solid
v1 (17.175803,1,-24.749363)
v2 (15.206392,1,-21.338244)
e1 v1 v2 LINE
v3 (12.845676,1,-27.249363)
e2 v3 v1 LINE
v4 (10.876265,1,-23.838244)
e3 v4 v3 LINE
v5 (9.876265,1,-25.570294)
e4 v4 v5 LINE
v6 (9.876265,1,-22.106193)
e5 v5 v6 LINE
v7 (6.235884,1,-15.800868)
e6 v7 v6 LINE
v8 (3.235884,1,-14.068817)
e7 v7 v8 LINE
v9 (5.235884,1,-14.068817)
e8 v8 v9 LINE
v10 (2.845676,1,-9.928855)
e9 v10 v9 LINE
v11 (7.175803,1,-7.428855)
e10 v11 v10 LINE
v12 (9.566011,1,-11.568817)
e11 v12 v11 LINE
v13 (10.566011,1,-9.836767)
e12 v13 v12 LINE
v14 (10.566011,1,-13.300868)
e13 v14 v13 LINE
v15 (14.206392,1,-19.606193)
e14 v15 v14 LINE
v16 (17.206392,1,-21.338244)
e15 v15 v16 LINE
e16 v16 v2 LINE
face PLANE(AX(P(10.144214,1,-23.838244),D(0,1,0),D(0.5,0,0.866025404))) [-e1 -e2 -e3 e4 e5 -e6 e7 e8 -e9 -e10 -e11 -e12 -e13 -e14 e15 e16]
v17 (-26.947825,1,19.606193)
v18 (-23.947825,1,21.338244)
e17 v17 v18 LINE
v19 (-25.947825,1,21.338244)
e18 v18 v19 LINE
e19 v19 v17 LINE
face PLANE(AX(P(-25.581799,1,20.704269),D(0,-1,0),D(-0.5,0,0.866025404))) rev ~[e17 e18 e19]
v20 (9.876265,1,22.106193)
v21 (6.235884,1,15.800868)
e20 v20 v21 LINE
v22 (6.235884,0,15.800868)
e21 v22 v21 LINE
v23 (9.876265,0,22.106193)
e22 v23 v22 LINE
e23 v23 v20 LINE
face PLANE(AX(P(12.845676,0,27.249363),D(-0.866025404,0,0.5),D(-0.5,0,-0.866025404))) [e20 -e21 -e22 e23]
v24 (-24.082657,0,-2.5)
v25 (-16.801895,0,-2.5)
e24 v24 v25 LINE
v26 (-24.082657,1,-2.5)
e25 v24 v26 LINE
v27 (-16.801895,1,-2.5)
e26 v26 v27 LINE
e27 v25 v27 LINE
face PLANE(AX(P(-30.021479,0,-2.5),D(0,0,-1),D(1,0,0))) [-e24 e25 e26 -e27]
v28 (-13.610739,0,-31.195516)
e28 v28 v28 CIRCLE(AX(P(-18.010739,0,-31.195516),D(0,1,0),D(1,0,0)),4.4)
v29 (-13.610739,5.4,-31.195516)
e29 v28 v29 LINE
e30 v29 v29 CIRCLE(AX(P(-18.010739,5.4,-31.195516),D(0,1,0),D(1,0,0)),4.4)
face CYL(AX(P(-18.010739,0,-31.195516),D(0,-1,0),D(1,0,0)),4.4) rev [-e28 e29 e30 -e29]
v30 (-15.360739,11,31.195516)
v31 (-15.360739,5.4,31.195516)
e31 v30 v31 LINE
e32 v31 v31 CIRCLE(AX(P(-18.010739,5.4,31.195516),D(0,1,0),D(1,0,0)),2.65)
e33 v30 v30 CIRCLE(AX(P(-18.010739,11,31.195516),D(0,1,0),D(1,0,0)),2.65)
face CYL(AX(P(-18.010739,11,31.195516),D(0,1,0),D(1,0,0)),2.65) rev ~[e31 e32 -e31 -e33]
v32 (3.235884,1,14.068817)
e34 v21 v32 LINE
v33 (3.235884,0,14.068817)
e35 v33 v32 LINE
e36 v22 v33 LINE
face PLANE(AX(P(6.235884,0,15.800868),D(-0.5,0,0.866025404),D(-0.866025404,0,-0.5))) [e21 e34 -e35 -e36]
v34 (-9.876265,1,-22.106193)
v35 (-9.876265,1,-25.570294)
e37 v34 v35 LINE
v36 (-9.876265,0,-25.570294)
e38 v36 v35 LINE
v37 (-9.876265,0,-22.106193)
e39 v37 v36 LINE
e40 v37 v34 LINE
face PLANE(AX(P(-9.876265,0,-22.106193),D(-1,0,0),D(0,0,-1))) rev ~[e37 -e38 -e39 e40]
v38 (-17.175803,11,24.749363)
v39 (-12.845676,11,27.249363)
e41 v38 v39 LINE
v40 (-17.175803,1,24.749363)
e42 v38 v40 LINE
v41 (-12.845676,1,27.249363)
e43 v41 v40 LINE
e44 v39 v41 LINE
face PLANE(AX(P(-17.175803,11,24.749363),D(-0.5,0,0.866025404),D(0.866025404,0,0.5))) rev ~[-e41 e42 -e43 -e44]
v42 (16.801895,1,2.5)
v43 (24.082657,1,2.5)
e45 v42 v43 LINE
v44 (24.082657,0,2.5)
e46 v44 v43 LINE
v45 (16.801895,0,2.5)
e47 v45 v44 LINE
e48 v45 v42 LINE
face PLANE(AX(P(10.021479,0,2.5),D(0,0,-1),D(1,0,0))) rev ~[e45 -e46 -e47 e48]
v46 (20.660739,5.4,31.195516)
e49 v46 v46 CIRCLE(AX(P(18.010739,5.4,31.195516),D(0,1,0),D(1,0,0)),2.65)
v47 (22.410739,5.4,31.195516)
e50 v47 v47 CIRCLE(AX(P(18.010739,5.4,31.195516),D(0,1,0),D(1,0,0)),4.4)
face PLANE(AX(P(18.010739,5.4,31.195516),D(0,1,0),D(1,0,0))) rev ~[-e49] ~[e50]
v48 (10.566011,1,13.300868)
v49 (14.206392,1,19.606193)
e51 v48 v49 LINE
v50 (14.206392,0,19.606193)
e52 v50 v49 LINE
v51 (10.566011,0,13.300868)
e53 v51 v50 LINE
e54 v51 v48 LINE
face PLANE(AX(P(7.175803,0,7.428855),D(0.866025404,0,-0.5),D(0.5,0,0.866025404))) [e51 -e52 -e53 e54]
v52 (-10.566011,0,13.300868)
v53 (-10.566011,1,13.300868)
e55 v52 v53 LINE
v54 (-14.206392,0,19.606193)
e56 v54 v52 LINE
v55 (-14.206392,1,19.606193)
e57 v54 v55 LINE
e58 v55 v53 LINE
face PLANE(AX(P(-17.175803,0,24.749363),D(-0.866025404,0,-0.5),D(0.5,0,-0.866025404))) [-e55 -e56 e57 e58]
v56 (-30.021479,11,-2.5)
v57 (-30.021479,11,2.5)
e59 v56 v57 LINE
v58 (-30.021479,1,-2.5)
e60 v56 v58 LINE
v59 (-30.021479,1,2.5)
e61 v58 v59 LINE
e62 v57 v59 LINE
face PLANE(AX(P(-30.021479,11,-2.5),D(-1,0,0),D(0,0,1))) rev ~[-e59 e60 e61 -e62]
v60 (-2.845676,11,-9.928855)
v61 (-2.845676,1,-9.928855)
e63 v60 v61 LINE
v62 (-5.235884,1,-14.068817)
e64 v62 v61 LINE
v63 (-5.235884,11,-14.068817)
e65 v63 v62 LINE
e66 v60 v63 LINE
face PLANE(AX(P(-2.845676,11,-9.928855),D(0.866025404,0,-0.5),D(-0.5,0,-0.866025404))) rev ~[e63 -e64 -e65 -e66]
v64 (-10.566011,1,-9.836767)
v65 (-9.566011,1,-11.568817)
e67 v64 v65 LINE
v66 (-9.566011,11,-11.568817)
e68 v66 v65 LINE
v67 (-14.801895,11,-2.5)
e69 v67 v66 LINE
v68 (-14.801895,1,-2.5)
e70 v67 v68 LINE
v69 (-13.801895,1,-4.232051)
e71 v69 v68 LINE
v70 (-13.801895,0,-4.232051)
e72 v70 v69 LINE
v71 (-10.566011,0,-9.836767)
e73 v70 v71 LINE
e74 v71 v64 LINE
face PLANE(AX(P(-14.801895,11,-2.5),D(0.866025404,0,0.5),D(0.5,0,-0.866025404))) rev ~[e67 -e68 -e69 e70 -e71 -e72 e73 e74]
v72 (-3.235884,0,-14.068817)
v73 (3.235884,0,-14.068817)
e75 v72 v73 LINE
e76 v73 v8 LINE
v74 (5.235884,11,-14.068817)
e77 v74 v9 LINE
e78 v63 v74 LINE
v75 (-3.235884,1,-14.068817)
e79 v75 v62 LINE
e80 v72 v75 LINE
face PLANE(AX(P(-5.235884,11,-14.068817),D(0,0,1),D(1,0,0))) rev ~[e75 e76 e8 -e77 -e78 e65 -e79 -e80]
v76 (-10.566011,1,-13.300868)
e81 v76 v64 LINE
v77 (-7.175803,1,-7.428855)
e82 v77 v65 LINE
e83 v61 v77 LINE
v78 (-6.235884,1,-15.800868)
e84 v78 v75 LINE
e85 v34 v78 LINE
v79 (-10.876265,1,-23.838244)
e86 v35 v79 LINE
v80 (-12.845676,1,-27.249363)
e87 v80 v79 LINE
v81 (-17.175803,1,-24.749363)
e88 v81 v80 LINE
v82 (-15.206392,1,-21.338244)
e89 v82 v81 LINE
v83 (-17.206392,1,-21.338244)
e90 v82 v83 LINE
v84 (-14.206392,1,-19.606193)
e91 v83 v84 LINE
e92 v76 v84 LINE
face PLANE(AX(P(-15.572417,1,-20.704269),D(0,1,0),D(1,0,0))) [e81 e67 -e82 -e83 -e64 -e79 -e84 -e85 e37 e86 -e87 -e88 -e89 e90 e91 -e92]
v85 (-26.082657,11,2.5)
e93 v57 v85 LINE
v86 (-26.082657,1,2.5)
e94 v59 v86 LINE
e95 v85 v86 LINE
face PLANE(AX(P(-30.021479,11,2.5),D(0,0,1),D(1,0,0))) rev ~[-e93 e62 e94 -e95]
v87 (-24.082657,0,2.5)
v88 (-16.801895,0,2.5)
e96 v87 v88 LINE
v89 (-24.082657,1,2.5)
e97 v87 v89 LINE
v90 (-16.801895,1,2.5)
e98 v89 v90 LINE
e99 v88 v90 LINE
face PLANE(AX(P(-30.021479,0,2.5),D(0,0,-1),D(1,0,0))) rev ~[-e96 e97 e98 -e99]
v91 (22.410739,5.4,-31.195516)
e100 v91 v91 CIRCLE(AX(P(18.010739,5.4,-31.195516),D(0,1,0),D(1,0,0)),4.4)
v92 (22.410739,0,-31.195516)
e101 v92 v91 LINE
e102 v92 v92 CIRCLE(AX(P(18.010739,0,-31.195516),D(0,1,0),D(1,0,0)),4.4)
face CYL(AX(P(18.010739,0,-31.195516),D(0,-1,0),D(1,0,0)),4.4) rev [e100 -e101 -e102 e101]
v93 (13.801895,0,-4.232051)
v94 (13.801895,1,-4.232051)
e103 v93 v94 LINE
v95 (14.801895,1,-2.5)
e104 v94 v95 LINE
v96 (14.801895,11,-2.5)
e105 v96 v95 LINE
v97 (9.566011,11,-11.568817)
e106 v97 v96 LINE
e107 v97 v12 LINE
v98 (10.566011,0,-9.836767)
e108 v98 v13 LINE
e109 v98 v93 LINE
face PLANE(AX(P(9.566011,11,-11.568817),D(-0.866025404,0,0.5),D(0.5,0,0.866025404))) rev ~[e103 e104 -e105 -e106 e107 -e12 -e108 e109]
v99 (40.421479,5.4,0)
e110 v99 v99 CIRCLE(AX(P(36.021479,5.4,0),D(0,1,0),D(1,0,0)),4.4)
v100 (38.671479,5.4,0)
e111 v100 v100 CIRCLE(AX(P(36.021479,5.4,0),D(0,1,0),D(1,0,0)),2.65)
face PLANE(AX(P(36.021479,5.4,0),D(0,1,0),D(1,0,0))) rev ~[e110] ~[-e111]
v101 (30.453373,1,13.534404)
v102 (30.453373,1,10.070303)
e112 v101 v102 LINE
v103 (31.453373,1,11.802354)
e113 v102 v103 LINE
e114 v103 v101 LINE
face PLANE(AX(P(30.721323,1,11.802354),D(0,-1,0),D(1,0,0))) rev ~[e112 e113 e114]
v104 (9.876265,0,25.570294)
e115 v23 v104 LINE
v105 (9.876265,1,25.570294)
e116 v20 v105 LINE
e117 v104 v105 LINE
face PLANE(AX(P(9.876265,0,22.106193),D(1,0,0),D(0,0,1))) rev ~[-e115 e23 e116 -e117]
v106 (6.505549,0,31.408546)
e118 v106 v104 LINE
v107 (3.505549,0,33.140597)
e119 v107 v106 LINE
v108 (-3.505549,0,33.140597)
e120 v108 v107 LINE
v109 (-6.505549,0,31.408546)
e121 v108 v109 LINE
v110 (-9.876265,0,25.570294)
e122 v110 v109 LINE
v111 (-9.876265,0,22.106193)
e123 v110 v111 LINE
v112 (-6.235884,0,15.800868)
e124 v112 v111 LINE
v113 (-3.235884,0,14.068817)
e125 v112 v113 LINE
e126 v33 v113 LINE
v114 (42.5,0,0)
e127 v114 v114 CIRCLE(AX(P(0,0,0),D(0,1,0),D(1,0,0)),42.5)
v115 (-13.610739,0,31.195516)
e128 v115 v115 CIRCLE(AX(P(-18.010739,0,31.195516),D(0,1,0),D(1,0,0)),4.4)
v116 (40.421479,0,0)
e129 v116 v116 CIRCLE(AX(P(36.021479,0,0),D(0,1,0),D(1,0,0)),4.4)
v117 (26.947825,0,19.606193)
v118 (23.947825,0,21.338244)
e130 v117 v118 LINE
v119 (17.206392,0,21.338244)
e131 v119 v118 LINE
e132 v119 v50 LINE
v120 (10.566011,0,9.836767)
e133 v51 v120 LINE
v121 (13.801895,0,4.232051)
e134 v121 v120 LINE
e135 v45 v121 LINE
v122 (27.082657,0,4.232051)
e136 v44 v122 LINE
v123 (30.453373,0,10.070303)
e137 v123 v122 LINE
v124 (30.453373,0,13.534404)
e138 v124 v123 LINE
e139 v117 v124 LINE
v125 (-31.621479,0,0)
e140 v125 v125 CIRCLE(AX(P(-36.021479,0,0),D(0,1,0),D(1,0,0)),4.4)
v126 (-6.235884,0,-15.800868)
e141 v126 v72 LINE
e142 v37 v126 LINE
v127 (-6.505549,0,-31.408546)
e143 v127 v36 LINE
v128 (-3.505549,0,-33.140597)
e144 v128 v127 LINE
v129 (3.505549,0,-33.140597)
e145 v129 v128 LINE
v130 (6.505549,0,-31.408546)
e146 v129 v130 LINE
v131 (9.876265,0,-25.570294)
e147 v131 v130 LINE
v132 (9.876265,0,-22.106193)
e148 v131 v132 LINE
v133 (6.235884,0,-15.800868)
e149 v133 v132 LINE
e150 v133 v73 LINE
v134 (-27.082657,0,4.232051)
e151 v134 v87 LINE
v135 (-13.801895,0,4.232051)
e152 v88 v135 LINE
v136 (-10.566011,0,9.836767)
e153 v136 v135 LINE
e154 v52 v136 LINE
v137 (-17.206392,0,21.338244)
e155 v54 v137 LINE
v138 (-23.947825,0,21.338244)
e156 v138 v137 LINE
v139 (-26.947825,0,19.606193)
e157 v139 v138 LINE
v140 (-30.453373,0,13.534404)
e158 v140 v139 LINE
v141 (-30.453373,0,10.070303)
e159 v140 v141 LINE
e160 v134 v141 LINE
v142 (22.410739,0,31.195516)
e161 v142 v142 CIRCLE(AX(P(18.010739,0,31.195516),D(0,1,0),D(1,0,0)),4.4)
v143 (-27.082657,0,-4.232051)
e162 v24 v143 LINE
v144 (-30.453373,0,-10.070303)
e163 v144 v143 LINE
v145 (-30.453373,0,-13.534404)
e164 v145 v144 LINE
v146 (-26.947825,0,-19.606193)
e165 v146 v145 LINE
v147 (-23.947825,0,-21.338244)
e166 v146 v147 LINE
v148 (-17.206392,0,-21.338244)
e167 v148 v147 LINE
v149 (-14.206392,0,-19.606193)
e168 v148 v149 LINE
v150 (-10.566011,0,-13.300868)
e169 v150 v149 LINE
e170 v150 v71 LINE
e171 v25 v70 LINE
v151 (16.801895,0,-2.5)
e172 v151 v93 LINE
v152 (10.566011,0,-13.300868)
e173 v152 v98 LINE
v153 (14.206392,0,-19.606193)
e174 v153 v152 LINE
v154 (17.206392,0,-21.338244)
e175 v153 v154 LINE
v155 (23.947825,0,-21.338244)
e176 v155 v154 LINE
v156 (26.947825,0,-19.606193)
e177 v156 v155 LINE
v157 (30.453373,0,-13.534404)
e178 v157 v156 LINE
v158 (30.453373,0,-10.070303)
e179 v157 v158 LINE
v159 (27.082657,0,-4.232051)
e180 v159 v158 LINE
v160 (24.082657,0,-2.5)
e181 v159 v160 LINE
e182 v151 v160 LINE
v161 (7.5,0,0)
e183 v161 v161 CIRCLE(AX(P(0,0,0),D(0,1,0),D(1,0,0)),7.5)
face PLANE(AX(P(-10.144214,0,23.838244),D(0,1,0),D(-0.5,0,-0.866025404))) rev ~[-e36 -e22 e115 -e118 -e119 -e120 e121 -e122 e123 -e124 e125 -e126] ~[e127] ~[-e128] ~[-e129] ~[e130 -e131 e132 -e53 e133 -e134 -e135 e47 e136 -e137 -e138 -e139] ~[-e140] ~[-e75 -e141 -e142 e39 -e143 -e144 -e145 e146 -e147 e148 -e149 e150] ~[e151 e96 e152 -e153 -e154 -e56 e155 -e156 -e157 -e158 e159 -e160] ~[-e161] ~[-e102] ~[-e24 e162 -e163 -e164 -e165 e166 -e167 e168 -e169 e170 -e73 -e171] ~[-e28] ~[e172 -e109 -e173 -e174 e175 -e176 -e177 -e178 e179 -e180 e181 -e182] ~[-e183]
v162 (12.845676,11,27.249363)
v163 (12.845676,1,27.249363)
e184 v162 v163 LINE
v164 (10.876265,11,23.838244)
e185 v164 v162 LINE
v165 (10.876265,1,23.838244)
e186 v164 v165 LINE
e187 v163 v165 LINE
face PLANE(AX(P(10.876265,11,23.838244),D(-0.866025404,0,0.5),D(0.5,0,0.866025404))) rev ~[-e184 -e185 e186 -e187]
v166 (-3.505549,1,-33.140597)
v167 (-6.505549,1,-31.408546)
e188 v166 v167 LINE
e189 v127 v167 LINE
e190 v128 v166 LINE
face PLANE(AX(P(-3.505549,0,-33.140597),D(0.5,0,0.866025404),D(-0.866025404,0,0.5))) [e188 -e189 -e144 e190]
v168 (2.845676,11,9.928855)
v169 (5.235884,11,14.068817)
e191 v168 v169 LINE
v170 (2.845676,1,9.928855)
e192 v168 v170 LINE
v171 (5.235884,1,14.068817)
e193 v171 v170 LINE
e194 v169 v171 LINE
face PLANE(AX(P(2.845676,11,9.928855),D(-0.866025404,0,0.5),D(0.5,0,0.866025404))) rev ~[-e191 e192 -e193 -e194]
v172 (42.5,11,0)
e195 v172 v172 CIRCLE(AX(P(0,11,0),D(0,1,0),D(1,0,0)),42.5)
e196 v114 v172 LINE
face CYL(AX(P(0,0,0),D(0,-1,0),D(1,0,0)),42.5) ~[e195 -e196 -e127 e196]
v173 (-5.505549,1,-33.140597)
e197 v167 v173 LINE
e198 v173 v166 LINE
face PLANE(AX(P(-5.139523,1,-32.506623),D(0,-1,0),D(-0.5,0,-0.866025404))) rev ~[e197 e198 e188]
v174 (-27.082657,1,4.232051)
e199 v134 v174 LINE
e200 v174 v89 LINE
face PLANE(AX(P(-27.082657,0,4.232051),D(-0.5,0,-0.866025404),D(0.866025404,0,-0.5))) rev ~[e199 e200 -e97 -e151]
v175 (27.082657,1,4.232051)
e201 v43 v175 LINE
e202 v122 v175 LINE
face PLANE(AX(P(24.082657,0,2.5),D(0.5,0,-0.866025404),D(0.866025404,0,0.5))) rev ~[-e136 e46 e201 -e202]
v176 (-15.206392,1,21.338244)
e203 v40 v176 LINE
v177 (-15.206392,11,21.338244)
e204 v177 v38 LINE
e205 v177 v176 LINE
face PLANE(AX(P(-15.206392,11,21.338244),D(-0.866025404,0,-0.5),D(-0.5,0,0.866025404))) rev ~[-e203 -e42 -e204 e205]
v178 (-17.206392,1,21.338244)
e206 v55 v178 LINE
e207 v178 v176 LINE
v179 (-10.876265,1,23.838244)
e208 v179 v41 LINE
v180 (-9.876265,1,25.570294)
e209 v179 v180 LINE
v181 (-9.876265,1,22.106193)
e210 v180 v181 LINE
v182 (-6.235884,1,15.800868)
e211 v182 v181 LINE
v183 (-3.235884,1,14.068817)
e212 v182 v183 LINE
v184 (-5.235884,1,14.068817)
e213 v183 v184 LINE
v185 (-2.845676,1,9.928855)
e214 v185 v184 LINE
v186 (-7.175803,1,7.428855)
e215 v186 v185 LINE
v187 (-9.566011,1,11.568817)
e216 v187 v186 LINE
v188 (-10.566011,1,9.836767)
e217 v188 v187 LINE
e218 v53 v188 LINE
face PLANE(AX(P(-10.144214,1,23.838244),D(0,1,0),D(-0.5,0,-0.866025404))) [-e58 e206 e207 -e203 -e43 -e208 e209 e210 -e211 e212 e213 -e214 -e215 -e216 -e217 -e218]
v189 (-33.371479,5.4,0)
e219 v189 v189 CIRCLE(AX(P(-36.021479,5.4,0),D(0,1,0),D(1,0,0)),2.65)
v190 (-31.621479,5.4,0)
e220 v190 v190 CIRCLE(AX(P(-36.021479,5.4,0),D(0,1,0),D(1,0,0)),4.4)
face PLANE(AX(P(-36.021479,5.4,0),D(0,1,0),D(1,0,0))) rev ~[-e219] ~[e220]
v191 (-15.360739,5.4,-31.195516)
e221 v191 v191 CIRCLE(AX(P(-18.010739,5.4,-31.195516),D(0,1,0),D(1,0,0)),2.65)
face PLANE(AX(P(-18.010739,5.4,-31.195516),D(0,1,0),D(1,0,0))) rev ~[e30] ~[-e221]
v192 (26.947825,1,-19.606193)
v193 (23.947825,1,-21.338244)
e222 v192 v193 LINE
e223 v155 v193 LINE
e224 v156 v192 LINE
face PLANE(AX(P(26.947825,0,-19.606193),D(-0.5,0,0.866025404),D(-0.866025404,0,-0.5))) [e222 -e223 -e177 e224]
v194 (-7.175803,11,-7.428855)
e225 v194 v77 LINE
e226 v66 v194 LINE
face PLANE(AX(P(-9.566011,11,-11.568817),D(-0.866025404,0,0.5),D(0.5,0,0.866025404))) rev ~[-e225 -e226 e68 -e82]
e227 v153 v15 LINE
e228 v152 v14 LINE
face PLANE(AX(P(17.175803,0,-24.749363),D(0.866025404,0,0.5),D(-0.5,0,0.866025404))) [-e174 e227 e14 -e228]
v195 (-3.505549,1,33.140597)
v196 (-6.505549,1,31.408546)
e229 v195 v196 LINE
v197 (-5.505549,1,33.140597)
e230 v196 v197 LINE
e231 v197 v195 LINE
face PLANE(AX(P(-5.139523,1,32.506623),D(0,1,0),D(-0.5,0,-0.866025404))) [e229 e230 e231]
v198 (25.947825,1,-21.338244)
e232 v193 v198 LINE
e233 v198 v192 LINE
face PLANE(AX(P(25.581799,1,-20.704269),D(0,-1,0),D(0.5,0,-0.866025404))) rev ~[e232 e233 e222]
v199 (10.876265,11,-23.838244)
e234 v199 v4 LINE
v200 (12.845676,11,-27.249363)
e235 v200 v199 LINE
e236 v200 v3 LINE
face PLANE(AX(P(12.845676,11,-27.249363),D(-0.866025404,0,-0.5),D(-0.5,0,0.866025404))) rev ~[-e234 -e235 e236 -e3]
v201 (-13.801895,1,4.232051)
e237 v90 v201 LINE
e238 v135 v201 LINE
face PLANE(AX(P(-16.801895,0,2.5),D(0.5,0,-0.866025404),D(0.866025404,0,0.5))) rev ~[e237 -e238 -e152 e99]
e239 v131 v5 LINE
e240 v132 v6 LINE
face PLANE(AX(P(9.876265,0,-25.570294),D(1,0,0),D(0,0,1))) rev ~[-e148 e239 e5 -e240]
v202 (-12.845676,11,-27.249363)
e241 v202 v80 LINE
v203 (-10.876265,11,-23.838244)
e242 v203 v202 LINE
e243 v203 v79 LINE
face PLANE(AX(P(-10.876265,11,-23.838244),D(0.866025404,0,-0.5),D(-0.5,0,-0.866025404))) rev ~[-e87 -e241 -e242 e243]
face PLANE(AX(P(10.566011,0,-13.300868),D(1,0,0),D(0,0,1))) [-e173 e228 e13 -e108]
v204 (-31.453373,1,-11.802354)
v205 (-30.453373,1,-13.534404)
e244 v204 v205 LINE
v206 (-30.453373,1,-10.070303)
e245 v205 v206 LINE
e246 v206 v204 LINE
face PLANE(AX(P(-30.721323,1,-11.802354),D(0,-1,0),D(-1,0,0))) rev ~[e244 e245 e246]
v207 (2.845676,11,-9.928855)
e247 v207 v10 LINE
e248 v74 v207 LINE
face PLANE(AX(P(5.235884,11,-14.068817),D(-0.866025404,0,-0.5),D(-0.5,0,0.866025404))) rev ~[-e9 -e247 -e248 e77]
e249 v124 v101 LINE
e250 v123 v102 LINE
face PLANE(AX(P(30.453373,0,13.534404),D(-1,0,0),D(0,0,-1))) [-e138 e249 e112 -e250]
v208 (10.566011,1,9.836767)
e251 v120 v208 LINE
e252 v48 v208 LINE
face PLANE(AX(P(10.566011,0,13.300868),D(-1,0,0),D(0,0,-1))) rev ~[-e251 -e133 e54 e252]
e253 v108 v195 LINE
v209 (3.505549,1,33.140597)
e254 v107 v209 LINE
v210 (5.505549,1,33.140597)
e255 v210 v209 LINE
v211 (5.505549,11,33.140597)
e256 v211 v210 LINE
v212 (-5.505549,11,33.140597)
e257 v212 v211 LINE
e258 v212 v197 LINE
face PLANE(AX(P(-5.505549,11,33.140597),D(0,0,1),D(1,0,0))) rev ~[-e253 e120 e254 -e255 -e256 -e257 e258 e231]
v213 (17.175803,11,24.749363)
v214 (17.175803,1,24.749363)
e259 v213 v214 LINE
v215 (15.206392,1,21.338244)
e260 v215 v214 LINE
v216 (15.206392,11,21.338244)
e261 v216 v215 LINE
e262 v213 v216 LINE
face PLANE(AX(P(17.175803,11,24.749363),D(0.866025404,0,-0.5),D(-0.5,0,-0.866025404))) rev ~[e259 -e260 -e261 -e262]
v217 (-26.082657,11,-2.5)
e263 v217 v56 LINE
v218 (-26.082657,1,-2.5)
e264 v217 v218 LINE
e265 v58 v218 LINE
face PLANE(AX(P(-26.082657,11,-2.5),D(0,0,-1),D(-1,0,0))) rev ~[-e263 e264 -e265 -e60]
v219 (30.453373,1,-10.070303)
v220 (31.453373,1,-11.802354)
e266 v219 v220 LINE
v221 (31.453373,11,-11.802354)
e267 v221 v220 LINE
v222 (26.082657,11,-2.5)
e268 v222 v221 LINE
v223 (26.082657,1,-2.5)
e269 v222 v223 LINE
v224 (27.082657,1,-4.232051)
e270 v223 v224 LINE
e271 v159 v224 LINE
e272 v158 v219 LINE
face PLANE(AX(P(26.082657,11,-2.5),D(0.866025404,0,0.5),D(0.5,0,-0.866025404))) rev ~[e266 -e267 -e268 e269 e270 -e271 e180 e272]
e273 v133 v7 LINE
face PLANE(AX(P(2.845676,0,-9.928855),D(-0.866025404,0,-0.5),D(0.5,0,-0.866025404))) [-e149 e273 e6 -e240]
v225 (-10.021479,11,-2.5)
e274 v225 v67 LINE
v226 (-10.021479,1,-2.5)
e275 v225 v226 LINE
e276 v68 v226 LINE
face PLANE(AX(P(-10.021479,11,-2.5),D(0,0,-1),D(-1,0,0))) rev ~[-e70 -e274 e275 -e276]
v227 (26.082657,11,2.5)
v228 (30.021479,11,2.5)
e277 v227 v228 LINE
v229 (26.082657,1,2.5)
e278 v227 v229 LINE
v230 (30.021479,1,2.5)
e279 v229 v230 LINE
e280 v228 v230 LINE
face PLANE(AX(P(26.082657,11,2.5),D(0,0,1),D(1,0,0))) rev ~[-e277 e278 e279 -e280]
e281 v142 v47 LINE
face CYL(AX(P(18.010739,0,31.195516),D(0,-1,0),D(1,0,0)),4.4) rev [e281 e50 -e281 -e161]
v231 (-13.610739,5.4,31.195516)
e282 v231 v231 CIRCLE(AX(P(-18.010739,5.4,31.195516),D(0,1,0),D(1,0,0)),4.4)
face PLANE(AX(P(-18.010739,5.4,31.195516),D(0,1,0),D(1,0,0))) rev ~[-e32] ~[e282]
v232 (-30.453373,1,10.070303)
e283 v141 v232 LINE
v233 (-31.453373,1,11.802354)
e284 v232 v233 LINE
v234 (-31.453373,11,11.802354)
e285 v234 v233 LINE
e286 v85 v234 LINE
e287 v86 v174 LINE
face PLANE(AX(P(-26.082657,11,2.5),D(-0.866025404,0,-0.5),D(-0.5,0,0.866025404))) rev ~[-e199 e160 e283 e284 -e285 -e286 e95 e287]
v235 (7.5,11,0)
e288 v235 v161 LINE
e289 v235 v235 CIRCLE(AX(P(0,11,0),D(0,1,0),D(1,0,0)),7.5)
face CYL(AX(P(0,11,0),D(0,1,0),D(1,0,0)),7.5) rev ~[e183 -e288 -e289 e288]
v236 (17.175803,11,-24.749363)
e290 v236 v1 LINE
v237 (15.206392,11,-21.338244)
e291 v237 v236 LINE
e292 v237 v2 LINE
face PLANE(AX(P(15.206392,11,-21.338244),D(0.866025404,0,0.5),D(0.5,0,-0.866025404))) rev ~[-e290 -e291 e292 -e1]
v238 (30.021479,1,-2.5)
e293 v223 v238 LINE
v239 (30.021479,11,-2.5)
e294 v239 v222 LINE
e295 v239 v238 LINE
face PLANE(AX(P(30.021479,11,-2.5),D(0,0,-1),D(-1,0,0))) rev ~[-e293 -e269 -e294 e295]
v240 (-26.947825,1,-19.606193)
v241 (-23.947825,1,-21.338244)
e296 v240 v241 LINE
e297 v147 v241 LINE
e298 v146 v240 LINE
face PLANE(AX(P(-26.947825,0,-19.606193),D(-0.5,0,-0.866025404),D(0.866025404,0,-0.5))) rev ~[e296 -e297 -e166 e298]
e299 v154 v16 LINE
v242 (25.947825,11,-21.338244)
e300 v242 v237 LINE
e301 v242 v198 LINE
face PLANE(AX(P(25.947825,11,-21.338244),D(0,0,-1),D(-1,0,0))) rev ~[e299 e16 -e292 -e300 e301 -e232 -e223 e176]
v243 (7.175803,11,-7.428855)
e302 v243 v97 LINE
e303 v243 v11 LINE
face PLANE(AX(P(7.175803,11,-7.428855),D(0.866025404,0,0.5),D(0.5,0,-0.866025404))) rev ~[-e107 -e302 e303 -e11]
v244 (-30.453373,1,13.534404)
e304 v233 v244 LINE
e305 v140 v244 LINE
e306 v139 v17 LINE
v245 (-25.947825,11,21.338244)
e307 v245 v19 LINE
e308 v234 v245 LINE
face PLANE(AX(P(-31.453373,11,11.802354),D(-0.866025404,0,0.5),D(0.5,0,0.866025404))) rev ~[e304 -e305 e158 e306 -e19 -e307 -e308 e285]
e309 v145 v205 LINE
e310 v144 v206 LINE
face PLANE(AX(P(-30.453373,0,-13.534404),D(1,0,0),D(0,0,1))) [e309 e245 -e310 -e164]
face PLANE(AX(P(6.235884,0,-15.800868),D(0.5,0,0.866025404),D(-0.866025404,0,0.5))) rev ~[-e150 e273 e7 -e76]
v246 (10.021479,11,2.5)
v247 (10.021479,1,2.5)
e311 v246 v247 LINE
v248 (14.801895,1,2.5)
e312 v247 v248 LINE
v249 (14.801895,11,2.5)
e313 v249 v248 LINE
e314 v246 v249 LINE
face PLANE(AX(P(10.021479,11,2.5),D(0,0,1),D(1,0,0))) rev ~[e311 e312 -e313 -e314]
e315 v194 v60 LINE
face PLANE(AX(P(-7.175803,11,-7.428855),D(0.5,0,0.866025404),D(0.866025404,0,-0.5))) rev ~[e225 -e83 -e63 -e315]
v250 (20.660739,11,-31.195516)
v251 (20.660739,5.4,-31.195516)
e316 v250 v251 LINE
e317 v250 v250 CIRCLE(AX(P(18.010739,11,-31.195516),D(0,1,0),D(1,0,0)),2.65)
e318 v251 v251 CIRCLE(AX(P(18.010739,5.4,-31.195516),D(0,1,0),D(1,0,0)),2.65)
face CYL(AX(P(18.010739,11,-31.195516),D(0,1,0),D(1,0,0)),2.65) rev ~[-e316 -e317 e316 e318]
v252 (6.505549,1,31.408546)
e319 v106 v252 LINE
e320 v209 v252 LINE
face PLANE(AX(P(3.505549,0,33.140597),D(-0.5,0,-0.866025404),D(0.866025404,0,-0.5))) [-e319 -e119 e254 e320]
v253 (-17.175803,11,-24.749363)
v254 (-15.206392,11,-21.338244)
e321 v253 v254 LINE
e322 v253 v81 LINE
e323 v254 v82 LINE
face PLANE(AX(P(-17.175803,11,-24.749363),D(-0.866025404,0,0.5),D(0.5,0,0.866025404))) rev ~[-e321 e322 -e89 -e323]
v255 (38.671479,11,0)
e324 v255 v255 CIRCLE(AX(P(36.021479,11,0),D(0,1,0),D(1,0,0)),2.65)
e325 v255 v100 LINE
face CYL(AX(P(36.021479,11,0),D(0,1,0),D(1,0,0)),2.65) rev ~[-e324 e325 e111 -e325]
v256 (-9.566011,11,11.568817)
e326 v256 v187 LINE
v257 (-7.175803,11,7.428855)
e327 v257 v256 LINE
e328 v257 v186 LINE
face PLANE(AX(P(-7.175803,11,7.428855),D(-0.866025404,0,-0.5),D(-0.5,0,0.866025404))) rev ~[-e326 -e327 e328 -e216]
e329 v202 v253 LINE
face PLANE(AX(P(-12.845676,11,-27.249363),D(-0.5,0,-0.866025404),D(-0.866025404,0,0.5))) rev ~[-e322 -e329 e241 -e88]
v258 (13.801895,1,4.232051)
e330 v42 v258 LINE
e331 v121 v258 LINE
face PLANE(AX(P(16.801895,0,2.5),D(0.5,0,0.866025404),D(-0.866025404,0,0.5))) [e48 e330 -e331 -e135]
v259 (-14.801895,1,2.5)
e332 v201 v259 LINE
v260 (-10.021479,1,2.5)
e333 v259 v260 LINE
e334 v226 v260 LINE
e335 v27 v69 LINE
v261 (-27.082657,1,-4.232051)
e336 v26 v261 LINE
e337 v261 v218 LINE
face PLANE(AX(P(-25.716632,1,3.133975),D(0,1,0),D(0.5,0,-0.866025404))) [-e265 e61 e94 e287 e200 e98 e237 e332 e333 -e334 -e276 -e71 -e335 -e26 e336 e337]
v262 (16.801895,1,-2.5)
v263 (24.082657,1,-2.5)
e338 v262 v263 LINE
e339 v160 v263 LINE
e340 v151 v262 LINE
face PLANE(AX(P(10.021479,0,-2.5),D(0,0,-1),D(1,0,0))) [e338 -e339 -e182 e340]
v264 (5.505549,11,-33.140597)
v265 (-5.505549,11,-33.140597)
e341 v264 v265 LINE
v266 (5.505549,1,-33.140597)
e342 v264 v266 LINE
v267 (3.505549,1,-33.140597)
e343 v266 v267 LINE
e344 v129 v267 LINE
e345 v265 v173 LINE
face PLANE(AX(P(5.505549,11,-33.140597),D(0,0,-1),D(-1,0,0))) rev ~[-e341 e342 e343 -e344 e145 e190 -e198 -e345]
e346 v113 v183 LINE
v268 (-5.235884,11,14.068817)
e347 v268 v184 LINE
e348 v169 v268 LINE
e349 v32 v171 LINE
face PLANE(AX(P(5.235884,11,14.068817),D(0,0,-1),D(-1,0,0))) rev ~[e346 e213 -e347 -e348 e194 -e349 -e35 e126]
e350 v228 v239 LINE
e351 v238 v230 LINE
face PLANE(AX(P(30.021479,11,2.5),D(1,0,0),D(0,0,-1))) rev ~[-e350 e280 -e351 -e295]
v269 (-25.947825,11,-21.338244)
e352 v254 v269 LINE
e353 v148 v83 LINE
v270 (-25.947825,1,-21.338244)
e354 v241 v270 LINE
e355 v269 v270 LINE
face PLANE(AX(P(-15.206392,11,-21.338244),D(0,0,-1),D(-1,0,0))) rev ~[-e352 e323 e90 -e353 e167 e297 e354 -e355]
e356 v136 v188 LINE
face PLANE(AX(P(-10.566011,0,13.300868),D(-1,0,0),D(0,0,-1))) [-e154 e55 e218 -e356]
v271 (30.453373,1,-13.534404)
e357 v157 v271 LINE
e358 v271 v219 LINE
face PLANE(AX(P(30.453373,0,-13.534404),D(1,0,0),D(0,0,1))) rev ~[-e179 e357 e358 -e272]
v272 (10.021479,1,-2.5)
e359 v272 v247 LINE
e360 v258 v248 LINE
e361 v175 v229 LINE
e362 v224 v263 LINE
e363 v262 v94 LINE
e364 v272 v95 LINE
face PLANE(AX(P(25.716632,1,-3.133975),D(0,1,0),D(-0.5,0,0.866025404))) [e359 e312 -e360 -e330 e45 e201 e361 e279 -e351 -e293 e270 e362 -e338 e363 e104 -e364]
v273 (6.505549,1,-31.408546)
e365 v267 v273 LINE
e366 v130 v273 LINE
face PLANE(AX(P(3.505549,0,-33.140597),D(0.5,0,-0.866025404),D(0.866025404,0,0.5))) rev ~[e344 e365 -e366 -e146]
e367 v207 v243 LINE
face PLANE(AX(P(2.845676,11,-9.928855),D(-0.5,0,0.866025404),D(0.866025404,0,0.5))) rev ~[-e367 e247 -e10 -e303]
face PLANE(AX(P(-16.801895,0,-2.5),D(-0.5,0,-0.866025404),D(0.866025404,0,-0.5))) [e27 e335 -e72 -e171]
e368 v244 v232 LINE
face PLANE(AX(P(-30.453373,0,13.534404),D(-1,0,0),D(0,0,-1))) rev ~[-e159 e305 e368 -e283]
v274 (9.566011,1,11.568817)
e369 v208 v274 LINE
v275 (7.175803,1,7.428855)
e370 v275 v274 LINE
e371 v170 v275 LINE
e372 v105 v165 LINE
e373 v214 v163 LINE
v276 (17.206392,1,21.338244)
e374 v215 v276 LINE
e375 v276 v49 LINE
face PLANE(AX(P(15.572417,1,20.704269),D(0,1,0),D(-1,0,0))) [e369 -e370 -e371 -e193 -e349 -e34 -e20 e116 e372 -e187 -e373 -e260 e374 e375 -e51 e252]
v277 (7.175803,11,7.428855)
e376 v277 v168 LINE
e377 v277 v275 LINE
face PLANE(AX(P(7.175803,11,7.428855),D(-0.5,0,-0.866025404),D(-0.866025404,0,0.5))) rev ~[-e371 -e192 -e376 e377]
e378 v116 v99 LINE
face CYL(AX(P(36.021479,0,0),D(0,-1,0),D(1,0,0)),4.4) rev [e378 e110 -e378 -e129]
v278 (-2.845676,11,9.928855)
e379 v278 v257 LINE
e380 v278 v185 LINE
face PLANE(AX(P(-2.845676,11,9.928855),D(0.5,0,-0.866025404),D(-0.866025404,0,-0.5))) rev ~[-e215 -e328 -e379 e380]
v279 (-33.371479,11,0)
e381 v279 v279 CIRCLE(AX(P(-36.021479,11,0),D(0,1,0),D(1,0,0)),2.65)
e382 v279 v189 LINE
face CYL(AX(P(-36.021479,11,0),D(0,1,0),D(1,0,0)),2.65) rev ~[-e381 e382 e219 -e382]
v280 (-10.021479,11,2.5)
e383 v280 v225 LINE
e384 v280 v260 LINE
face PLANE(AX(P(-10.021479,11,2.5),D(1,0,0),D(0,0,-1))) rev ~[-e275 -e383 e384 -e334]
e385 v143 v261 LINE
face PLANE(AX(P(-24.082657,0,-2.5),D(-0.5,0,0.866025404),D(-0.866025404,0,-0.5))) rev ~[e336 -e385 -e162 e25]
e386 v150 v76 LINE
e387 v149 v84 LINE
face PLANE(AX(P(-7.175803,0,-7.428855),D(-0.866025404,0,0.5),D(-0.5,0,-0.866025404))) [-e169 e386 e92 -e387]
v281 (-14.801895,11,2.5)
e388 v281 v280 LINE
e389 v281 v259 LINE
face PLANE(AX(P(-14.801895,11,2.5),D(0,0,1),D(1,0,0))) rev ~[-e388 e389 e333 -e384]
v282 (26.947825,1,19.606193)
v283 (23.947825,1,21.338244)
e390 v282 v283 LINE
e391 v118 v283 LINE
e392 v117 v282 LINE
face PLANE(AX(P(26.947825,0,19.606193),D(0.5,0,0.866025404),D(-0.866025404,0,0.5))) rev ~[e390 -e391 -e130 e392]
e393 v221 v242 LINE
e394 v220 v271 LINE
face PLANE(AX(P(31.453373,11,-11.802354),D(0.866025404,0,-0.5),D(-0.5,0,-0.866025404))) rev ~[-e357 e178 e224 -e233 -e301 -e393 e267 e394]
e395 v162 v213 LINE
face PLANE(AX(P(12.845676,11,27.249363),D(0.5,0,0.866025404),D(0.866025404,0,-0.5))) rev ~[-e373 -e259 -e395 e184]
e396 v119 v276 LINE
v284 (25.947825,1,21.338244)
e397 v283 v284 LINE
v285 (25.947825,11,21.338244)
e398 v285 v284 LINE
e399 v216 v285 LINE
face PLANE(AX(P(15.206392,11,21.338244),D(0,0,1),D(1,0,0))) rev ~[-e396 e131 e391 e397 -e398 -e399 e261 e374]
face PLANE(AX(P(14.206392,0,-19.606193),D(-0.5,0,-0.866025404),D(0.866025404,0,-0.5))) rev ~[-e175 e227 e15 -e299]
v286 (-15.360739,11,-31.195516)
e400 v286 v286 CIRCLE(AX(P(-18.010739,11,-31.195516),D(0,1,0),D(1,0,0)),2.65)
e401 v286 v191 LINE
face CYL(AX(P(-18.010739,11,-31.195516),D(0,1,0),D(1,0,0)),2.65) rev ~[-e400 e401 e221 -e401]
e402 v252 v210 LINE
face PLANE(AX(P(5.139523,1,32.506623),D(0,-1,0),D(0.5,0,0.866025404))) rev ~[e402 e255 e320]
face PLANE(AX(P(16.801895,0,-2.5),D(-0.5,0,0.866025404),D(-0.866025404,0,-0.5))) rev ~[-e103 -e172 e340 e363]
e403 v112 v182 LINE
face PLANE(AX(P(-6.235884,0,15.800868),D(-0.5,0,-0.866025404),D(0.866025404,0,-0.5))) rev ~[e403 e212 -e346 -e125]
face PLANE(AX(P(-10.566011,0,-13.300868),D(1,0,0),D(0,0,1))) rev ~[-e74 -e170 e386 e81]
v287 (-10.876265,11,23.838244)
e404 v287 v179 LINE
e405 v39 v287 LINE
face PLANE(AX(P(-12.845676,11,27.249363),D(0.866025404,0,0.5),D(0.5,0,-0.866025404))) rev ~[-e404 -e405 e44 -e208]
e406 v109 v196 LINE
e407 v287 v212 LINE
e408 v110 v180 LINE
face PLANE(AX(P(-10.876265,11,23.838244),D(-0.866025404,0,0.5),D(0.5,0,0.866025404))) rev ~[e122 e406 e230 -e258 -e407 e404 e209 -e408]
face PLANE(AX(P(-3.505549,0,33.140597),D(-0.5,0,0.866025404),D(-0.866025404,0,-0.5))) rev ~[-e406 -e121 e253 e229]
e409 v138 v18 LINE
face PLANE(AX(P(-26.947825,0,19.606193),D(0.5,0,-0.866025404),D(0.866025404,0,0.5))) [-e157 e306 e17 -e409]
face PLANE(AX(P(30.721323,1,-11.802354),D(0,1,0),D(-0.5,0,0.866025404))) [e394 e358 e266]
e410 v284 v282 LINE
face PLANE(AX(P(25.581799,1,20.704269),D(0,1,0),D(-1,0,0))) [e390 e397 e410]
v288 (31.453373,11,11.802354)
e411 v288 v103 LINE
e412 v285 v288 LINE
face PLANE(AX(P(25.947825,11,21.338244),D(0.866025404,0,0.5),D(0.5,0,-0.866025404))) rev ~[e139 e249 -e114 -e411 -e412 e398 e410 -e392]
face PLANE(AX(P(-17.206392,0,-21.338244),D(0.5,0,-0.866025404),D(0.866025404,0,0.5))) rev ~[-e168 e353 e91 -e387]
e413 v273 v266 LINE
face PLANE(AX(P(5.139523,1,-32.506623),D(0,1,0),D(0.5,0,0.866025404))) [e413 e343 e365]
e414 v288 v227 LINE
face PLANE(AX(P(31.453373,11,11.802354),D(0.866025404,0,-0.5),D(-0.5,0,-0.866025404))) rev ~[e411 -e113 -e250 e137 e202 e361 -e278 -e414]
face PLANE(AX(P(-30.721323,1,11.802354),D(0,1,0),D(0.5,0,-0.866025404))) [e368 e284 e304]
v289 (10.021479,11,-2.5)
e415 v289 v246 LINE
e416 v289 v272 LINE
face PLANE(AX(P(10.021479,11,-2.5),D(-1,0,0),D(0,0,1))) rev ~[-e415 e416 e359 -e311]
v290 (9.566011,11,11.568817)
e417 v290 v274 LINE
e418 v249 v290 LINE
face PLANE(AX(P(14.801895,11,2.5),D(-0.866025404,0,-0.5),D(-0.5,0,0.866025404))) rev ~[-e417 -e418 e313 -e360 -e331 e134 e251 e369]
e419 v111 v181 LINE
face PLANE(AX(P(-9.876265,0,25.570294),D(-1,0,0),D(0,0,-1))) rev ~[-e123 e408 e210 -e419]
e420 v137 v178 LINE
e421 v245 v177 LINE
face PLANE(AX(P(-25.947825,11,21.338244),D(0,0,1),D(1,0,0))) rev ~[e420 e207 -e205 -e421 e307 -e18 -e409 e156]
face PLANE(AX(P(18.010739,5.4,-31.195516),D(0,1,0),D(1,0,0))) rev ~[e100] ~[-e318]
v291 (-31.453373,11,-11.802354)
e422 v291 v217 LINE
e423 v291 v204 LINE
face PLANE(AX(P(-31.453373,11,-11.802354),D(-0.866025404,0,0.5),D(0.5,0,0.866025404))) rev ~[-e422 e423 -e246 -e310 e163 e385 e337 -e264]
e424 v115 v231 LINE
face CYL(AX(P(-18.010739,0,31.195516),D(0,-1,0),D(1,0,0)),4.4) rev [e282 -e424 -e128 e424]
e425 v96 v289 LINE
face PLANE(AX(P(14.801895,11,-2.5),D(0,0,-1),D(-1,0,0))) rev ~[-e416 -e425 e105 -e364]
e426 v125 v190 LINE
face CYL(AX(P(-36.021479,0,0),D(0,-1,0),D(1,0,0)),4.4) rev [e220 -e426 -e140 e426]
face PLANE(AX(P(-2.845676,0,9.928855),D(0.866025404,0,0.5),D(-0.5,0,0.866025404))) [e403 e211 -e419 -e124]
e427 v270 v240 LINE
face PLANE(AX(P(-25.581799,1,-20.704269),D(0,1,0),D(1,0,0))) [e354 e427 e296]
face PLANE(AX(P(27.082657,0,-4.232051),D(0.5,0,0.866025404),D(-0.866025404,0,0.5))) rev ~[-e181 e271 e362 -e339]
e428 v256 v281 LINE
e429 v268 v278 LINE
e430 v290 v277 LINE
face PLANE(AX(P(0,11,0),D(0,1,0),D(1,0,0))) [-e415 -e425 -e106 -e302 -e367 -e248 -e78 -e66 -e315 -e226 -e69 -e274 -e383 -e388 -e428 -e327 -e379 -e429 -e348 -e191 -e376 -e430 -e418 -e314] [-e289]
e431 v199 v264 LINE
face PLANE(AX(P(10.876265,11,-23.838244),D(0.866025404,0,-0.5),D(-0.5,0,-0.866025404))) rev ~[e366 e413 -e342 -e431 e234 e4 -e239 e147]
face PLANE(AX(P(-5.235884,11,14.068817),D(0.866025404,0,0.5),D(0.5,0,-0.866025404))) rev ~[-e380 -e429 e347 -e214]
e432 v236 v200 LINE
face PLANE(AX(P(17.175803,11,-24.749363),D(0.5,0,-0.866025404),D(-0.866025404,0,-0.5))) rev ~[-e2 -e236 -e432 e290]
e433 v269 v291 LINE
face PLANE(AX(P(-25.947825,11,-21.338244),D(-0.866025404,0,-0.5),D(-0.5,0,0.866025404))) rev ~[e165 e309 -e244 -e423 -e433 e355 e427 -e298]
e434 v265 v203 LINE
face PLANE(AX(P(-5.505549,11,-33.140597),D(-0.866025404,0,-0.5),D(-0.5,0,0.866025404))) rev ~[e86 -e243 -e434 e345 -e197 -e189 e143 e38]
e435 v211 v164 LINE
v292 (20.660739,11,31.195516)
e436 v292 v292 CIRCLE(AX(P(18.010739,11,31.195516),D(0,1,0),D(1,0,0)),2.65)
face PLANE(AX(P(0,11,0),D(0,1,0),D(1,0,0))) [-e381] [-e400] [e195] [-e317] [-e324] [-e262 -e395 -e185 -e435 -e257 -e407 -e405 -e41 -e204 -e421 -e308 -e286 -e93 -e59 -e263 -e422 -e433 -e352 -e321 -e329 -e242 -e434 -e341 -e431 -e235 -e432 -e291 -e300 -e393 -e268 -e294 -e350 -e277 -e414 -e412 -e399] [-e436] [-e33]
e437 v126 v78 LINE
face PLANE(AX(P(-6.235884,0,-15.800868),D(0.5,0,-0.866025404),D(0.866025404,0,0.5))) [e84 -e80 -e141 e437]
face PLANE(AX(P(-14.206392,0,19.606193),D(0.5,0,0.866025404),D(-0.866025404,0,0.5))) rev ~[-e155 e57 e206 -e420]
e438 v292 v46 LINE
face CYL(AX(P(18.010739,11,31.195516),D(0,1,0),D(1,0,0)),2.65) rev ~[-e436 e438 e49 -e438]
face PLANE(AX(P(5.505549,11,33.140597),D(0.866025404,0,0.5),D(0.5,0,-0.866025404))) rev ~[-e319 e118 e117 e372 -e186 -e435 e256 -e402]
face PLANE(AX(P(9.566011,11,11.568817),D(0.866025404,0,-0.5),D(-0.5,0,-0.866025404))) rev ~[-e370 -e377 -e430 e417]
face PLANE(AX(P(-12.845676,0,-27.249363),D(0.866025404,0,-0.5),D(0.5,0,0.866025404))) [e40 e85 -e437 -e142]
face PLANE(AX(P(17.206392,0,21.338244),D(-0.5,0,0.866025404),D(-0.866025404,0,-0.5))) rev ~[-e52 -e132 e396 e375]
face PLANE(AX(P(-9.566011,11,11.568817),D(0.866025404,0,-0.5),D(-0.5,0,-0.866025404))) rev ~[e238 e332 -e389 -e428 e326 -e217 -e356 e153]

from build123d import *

# Parameters (mm, degrees)
SKETCH2_R               = 42.5
BOSS_EXTRUDE1_DEPTH     = 11
CUT_EXTRUDE3_DEPTH      = 11
SKETCH4_R               = 2.65
CUT_EXTRUDE4_DEPTH      = 12
SKETCH7_W               = 20
SKETCH7_H               = 5
BOSS_EXTRUDE2_DEPTH     = 1
SKETCH6_R               = 4.4
CUT_EXTRUDE6_DEPTH      = 5.4
SKETCH8_R               = 7.5
CUT_EXTRUDE7_DEPTH      = 1
CUT_EXTRUDE7_DEPTH_BACK = 12
BOSS_EXTRUDE3_DEPTH     = 1
CIRPATTERN1_COUNT       = 6


with BuildPart() as part:
    # Sketch2 → Boss-Extrude1 (new body)
    with BuildSketch(Plane(origin=(0, 0, 0), x_dir=(1, 0, 0), z_dir=(0, 1, 0))):
        Circle(SKETCH2_R)
    extrude(amount=BOSS_EXTRUDE1_DEPTH)

    # Sketch3 → Cut-Extrude3 (cut)
    with BuildSketch(Plane(origin=(0, 11, 0), x_dir=(1, 0, 0), z_dir=(0, 1, 0))):
        Polygon((10.876265015, 23.838243603), (5.505548638, 33.14059724), (-5.505548638, 33.14059724), (-10.876265015, 23.838243602), (-12.845675931, 27.249363369), (-17.175802949, 24.749363369), (-15.206392034, 21.338243603), (-25.947824787, 21.338243602), (-31.453373426, 11.802353637), (-26.082657049, 2.5), (-30.02147888, 2.5), (-30.02147888, -2.5), (-26.082657049, -2.5), (-31.453373426, -11.802353638), (-25.947824787, -21.338243603), (-15.206392034, -21.338243603), (-17.175802949, -24.749363369), (-12.845675931, -27.249363369), (-10.876265015, -23.838243603), (-5.505548638, -33.14059724), (5.505548638, -33.14059724), (10.876265015, -23.838243602), (12.845675931, -27.249363369), (17.175802949, -24.749363369), (15.206392034, -21.338243603), (25.947824787, -21.338243602), (31.453373426, -11.802353637), (26.082657049, -2.5), (30.02147888, -2.5), (30.02147888, 2.5), (26.082657049, 2.5), (31.453373426, 11.802353637), (25.947824787, 21.338243602), (15.206392034, 21.338243602), (17.175802949, 24.749363369), (12.845675931, 27.249363369), align=None)
        Polygon((-5.235884115, 14.06881731), (5.235884115, 14.06881731), (2.845675931, 9.928855294), (7.175802949, 7.428855294), (9.566011134, 11.56881731), (14.801895249, 2.5), (10.02147888, 2.5), (10.02147888, -2.5), (14.801895249, -2.5), (9.566011134, -11.56881731), (7.175802949, -7.428855294), (2.845675931, -9.928855294), (5.235884115, -14.06881731), (-5.235884115, -14.06881731), (-2.845675931, -9.928855294), (-7.175802949, -7.428855294), (-9.566011134, -11.56881731), (-14.801895249, -2.5), (-10.02147888, -2.5), (-10.02147888, 2.5), (-14.801895249, 2.5), (-9.566011134, 11.56881731), (-7.175802949, 7.428855294), (-2.845675931, 9.928855294), align=None, mode=Mode.SUBTRACT)
    extrude(amount=-CUT_EXTRUDE3_DEPTH, mode=Mode.SUBTRACT)

    # Sketch4 → Cut-Extrude4 (cut, through all)
    with BuildSketch(Plane(origin=(0, 11, 0), x_dir=(1, 0, 0), z_dir=(0, 1, 0))):
        with Locations((18.01073944, 31.195515792)):
            Circle(SKETCH4_R)
        with Locations((36.02147888, 0)):
            Circle(SKETCH4_R)
        with Locations((18.01073944, -31.195515792)):
            Circle(SKETCH4_R)
        with Locations((-18.01073944, -31.195515792)):
            Circle(SKETCH4_R)
        with Locations((-36.02147888, 0)):
            Circle(SKETCH4_R)
        with Locations((-18.01073944, 31.195515792)):
            Circle(SKETCH4_R)
    extrude(amount=-CUT_EXTRUDE4_DEPTH, mode=Mode.SUBTRACT)

    # Sketch7 → Boss-Extrude2 (add)
    with BuildSketch(Plane.XZ):
        Polygon((-7.175802949, 7.428855294), (-2.845675931, 9.928855294), (-12.845675931, 27.249363369), (-17.175802949, 24.749363369), align=None)
        Polygon((12.845675931, 27.249363369), (2.845675931, 9.928855294), (7.175802949, 7.428855294), (17.175802949, 24.749363369), align=None)
        with Locations((20.02147888, 0)):
            Rectangle(SKETCH7_W, SKETCH7_H)
        Polygon((17.175802949, -24.749363369), (7.175802949, -7.428855294), (2.845675931, -9.928855294), (12.845675931, -27.249363369), align=None)
        Polygon((-12.845675931, -27.249363369), (-2.845675931, -9.928855294), (-7.175802949, -7.428855294), (-17.175802949, -24.749363369), align=None)
        with Locations((-20.02147888, 0)):
            Rectangle(SKETCH7_W, SKETCH7_H)
    extrude(amount=-BOSS_EXTRUDE2_DEPTH)

    # Sketch6 → Cut-Extrude6 (cut)
    with BuildSketch(Plane(origin=(0, 0, 0), x_dir=(1, 0, 0), z_dir=(0, 1, 0))):
        with Locations((18.01073944, 31.195515792)):
            Circle(SKETCH6_R)
        with Locations((36.02147888, 0)):
            Circle(SKETCH6_R)
        with Locations((18.01073944, -31.195515792)):
            Circle(SKETCH6_R)
        with Locations((-18.01073944, -31.195515792)):
            Circle(SKETCH6_R)
        with Locations((-36.02147888, 0)):
            Circle(SKETCH6_R)
        with Locations((-18.01073944, 31.195515792)):
            Circle(SKETCH6_R)
    extrude(amount=CUT_EXTRUDE6_DEPTH, mode=Mode.SUBTRACT)

    # Sketch8 → Cut-Extrude7 (cut, two sides)
    with BuildSketch(Plane(origin=(0, 11, 0), x_dir=(1, 0, 0), z_dir=(0, 1, 0))) as cut_extrude7_sk:
        Circle(SKETCH8_R)
    extrude(amount=CUT_EXTRUDE7_DEPTH, mode=Mode.SUBTRACT)
    extrude(cut_extrude7_sk.sketch, amount=-CUT_EXTRUDE7_DEPTH_BACK, mode=Mode.SUBTRACT)

    # Sketch11 → Boss-Extrude3 (add)
    with BuildSketch(Plane.XZ):
        Polygon((17.206392034, 21.338243603), (14.206392034, 19.606192795), (15.206392034, 21.338243603), align=None)
        Polygon((25.947824787, 21.338243602), (26.947824787, 19.606192795), (23.947824787, 21.338243603), align=None)
        Polygon((30.453373426, 10.07030283), (31.453373426, 11.802353637), (30.453373426, 13.534404445), align=None)
        Polygon((24.082657049, 2.5), (27.082657049, 4.232050808), (26.082657049, 2.5), align=None)
        Polygon((13.801895249, 4.232050808), (14.801895249, 2.5), (16.801895249, 2.5), align=None)
        Polygon((10.566011134, 9.836766502), (9.566011134, 11.56881731), (10.566011134, 13.300868118), align=None)
    boss_extrude3 = extrude(amount=-BOSS_EXTRUDE3_DEPTH)

    # CirPattern1: Boss-Extrude3 ×6 about axis
    cirpattern1_axis = Axis((0, 0, 0), (0, 1, 0))
    for i in range(1, CIRPATTERN1_COUNT):
        add(boss_extrude3.rotate(cirpattern1_axis, i * 360 / CIRPATTERN1_COUNT))


solid = part.part
